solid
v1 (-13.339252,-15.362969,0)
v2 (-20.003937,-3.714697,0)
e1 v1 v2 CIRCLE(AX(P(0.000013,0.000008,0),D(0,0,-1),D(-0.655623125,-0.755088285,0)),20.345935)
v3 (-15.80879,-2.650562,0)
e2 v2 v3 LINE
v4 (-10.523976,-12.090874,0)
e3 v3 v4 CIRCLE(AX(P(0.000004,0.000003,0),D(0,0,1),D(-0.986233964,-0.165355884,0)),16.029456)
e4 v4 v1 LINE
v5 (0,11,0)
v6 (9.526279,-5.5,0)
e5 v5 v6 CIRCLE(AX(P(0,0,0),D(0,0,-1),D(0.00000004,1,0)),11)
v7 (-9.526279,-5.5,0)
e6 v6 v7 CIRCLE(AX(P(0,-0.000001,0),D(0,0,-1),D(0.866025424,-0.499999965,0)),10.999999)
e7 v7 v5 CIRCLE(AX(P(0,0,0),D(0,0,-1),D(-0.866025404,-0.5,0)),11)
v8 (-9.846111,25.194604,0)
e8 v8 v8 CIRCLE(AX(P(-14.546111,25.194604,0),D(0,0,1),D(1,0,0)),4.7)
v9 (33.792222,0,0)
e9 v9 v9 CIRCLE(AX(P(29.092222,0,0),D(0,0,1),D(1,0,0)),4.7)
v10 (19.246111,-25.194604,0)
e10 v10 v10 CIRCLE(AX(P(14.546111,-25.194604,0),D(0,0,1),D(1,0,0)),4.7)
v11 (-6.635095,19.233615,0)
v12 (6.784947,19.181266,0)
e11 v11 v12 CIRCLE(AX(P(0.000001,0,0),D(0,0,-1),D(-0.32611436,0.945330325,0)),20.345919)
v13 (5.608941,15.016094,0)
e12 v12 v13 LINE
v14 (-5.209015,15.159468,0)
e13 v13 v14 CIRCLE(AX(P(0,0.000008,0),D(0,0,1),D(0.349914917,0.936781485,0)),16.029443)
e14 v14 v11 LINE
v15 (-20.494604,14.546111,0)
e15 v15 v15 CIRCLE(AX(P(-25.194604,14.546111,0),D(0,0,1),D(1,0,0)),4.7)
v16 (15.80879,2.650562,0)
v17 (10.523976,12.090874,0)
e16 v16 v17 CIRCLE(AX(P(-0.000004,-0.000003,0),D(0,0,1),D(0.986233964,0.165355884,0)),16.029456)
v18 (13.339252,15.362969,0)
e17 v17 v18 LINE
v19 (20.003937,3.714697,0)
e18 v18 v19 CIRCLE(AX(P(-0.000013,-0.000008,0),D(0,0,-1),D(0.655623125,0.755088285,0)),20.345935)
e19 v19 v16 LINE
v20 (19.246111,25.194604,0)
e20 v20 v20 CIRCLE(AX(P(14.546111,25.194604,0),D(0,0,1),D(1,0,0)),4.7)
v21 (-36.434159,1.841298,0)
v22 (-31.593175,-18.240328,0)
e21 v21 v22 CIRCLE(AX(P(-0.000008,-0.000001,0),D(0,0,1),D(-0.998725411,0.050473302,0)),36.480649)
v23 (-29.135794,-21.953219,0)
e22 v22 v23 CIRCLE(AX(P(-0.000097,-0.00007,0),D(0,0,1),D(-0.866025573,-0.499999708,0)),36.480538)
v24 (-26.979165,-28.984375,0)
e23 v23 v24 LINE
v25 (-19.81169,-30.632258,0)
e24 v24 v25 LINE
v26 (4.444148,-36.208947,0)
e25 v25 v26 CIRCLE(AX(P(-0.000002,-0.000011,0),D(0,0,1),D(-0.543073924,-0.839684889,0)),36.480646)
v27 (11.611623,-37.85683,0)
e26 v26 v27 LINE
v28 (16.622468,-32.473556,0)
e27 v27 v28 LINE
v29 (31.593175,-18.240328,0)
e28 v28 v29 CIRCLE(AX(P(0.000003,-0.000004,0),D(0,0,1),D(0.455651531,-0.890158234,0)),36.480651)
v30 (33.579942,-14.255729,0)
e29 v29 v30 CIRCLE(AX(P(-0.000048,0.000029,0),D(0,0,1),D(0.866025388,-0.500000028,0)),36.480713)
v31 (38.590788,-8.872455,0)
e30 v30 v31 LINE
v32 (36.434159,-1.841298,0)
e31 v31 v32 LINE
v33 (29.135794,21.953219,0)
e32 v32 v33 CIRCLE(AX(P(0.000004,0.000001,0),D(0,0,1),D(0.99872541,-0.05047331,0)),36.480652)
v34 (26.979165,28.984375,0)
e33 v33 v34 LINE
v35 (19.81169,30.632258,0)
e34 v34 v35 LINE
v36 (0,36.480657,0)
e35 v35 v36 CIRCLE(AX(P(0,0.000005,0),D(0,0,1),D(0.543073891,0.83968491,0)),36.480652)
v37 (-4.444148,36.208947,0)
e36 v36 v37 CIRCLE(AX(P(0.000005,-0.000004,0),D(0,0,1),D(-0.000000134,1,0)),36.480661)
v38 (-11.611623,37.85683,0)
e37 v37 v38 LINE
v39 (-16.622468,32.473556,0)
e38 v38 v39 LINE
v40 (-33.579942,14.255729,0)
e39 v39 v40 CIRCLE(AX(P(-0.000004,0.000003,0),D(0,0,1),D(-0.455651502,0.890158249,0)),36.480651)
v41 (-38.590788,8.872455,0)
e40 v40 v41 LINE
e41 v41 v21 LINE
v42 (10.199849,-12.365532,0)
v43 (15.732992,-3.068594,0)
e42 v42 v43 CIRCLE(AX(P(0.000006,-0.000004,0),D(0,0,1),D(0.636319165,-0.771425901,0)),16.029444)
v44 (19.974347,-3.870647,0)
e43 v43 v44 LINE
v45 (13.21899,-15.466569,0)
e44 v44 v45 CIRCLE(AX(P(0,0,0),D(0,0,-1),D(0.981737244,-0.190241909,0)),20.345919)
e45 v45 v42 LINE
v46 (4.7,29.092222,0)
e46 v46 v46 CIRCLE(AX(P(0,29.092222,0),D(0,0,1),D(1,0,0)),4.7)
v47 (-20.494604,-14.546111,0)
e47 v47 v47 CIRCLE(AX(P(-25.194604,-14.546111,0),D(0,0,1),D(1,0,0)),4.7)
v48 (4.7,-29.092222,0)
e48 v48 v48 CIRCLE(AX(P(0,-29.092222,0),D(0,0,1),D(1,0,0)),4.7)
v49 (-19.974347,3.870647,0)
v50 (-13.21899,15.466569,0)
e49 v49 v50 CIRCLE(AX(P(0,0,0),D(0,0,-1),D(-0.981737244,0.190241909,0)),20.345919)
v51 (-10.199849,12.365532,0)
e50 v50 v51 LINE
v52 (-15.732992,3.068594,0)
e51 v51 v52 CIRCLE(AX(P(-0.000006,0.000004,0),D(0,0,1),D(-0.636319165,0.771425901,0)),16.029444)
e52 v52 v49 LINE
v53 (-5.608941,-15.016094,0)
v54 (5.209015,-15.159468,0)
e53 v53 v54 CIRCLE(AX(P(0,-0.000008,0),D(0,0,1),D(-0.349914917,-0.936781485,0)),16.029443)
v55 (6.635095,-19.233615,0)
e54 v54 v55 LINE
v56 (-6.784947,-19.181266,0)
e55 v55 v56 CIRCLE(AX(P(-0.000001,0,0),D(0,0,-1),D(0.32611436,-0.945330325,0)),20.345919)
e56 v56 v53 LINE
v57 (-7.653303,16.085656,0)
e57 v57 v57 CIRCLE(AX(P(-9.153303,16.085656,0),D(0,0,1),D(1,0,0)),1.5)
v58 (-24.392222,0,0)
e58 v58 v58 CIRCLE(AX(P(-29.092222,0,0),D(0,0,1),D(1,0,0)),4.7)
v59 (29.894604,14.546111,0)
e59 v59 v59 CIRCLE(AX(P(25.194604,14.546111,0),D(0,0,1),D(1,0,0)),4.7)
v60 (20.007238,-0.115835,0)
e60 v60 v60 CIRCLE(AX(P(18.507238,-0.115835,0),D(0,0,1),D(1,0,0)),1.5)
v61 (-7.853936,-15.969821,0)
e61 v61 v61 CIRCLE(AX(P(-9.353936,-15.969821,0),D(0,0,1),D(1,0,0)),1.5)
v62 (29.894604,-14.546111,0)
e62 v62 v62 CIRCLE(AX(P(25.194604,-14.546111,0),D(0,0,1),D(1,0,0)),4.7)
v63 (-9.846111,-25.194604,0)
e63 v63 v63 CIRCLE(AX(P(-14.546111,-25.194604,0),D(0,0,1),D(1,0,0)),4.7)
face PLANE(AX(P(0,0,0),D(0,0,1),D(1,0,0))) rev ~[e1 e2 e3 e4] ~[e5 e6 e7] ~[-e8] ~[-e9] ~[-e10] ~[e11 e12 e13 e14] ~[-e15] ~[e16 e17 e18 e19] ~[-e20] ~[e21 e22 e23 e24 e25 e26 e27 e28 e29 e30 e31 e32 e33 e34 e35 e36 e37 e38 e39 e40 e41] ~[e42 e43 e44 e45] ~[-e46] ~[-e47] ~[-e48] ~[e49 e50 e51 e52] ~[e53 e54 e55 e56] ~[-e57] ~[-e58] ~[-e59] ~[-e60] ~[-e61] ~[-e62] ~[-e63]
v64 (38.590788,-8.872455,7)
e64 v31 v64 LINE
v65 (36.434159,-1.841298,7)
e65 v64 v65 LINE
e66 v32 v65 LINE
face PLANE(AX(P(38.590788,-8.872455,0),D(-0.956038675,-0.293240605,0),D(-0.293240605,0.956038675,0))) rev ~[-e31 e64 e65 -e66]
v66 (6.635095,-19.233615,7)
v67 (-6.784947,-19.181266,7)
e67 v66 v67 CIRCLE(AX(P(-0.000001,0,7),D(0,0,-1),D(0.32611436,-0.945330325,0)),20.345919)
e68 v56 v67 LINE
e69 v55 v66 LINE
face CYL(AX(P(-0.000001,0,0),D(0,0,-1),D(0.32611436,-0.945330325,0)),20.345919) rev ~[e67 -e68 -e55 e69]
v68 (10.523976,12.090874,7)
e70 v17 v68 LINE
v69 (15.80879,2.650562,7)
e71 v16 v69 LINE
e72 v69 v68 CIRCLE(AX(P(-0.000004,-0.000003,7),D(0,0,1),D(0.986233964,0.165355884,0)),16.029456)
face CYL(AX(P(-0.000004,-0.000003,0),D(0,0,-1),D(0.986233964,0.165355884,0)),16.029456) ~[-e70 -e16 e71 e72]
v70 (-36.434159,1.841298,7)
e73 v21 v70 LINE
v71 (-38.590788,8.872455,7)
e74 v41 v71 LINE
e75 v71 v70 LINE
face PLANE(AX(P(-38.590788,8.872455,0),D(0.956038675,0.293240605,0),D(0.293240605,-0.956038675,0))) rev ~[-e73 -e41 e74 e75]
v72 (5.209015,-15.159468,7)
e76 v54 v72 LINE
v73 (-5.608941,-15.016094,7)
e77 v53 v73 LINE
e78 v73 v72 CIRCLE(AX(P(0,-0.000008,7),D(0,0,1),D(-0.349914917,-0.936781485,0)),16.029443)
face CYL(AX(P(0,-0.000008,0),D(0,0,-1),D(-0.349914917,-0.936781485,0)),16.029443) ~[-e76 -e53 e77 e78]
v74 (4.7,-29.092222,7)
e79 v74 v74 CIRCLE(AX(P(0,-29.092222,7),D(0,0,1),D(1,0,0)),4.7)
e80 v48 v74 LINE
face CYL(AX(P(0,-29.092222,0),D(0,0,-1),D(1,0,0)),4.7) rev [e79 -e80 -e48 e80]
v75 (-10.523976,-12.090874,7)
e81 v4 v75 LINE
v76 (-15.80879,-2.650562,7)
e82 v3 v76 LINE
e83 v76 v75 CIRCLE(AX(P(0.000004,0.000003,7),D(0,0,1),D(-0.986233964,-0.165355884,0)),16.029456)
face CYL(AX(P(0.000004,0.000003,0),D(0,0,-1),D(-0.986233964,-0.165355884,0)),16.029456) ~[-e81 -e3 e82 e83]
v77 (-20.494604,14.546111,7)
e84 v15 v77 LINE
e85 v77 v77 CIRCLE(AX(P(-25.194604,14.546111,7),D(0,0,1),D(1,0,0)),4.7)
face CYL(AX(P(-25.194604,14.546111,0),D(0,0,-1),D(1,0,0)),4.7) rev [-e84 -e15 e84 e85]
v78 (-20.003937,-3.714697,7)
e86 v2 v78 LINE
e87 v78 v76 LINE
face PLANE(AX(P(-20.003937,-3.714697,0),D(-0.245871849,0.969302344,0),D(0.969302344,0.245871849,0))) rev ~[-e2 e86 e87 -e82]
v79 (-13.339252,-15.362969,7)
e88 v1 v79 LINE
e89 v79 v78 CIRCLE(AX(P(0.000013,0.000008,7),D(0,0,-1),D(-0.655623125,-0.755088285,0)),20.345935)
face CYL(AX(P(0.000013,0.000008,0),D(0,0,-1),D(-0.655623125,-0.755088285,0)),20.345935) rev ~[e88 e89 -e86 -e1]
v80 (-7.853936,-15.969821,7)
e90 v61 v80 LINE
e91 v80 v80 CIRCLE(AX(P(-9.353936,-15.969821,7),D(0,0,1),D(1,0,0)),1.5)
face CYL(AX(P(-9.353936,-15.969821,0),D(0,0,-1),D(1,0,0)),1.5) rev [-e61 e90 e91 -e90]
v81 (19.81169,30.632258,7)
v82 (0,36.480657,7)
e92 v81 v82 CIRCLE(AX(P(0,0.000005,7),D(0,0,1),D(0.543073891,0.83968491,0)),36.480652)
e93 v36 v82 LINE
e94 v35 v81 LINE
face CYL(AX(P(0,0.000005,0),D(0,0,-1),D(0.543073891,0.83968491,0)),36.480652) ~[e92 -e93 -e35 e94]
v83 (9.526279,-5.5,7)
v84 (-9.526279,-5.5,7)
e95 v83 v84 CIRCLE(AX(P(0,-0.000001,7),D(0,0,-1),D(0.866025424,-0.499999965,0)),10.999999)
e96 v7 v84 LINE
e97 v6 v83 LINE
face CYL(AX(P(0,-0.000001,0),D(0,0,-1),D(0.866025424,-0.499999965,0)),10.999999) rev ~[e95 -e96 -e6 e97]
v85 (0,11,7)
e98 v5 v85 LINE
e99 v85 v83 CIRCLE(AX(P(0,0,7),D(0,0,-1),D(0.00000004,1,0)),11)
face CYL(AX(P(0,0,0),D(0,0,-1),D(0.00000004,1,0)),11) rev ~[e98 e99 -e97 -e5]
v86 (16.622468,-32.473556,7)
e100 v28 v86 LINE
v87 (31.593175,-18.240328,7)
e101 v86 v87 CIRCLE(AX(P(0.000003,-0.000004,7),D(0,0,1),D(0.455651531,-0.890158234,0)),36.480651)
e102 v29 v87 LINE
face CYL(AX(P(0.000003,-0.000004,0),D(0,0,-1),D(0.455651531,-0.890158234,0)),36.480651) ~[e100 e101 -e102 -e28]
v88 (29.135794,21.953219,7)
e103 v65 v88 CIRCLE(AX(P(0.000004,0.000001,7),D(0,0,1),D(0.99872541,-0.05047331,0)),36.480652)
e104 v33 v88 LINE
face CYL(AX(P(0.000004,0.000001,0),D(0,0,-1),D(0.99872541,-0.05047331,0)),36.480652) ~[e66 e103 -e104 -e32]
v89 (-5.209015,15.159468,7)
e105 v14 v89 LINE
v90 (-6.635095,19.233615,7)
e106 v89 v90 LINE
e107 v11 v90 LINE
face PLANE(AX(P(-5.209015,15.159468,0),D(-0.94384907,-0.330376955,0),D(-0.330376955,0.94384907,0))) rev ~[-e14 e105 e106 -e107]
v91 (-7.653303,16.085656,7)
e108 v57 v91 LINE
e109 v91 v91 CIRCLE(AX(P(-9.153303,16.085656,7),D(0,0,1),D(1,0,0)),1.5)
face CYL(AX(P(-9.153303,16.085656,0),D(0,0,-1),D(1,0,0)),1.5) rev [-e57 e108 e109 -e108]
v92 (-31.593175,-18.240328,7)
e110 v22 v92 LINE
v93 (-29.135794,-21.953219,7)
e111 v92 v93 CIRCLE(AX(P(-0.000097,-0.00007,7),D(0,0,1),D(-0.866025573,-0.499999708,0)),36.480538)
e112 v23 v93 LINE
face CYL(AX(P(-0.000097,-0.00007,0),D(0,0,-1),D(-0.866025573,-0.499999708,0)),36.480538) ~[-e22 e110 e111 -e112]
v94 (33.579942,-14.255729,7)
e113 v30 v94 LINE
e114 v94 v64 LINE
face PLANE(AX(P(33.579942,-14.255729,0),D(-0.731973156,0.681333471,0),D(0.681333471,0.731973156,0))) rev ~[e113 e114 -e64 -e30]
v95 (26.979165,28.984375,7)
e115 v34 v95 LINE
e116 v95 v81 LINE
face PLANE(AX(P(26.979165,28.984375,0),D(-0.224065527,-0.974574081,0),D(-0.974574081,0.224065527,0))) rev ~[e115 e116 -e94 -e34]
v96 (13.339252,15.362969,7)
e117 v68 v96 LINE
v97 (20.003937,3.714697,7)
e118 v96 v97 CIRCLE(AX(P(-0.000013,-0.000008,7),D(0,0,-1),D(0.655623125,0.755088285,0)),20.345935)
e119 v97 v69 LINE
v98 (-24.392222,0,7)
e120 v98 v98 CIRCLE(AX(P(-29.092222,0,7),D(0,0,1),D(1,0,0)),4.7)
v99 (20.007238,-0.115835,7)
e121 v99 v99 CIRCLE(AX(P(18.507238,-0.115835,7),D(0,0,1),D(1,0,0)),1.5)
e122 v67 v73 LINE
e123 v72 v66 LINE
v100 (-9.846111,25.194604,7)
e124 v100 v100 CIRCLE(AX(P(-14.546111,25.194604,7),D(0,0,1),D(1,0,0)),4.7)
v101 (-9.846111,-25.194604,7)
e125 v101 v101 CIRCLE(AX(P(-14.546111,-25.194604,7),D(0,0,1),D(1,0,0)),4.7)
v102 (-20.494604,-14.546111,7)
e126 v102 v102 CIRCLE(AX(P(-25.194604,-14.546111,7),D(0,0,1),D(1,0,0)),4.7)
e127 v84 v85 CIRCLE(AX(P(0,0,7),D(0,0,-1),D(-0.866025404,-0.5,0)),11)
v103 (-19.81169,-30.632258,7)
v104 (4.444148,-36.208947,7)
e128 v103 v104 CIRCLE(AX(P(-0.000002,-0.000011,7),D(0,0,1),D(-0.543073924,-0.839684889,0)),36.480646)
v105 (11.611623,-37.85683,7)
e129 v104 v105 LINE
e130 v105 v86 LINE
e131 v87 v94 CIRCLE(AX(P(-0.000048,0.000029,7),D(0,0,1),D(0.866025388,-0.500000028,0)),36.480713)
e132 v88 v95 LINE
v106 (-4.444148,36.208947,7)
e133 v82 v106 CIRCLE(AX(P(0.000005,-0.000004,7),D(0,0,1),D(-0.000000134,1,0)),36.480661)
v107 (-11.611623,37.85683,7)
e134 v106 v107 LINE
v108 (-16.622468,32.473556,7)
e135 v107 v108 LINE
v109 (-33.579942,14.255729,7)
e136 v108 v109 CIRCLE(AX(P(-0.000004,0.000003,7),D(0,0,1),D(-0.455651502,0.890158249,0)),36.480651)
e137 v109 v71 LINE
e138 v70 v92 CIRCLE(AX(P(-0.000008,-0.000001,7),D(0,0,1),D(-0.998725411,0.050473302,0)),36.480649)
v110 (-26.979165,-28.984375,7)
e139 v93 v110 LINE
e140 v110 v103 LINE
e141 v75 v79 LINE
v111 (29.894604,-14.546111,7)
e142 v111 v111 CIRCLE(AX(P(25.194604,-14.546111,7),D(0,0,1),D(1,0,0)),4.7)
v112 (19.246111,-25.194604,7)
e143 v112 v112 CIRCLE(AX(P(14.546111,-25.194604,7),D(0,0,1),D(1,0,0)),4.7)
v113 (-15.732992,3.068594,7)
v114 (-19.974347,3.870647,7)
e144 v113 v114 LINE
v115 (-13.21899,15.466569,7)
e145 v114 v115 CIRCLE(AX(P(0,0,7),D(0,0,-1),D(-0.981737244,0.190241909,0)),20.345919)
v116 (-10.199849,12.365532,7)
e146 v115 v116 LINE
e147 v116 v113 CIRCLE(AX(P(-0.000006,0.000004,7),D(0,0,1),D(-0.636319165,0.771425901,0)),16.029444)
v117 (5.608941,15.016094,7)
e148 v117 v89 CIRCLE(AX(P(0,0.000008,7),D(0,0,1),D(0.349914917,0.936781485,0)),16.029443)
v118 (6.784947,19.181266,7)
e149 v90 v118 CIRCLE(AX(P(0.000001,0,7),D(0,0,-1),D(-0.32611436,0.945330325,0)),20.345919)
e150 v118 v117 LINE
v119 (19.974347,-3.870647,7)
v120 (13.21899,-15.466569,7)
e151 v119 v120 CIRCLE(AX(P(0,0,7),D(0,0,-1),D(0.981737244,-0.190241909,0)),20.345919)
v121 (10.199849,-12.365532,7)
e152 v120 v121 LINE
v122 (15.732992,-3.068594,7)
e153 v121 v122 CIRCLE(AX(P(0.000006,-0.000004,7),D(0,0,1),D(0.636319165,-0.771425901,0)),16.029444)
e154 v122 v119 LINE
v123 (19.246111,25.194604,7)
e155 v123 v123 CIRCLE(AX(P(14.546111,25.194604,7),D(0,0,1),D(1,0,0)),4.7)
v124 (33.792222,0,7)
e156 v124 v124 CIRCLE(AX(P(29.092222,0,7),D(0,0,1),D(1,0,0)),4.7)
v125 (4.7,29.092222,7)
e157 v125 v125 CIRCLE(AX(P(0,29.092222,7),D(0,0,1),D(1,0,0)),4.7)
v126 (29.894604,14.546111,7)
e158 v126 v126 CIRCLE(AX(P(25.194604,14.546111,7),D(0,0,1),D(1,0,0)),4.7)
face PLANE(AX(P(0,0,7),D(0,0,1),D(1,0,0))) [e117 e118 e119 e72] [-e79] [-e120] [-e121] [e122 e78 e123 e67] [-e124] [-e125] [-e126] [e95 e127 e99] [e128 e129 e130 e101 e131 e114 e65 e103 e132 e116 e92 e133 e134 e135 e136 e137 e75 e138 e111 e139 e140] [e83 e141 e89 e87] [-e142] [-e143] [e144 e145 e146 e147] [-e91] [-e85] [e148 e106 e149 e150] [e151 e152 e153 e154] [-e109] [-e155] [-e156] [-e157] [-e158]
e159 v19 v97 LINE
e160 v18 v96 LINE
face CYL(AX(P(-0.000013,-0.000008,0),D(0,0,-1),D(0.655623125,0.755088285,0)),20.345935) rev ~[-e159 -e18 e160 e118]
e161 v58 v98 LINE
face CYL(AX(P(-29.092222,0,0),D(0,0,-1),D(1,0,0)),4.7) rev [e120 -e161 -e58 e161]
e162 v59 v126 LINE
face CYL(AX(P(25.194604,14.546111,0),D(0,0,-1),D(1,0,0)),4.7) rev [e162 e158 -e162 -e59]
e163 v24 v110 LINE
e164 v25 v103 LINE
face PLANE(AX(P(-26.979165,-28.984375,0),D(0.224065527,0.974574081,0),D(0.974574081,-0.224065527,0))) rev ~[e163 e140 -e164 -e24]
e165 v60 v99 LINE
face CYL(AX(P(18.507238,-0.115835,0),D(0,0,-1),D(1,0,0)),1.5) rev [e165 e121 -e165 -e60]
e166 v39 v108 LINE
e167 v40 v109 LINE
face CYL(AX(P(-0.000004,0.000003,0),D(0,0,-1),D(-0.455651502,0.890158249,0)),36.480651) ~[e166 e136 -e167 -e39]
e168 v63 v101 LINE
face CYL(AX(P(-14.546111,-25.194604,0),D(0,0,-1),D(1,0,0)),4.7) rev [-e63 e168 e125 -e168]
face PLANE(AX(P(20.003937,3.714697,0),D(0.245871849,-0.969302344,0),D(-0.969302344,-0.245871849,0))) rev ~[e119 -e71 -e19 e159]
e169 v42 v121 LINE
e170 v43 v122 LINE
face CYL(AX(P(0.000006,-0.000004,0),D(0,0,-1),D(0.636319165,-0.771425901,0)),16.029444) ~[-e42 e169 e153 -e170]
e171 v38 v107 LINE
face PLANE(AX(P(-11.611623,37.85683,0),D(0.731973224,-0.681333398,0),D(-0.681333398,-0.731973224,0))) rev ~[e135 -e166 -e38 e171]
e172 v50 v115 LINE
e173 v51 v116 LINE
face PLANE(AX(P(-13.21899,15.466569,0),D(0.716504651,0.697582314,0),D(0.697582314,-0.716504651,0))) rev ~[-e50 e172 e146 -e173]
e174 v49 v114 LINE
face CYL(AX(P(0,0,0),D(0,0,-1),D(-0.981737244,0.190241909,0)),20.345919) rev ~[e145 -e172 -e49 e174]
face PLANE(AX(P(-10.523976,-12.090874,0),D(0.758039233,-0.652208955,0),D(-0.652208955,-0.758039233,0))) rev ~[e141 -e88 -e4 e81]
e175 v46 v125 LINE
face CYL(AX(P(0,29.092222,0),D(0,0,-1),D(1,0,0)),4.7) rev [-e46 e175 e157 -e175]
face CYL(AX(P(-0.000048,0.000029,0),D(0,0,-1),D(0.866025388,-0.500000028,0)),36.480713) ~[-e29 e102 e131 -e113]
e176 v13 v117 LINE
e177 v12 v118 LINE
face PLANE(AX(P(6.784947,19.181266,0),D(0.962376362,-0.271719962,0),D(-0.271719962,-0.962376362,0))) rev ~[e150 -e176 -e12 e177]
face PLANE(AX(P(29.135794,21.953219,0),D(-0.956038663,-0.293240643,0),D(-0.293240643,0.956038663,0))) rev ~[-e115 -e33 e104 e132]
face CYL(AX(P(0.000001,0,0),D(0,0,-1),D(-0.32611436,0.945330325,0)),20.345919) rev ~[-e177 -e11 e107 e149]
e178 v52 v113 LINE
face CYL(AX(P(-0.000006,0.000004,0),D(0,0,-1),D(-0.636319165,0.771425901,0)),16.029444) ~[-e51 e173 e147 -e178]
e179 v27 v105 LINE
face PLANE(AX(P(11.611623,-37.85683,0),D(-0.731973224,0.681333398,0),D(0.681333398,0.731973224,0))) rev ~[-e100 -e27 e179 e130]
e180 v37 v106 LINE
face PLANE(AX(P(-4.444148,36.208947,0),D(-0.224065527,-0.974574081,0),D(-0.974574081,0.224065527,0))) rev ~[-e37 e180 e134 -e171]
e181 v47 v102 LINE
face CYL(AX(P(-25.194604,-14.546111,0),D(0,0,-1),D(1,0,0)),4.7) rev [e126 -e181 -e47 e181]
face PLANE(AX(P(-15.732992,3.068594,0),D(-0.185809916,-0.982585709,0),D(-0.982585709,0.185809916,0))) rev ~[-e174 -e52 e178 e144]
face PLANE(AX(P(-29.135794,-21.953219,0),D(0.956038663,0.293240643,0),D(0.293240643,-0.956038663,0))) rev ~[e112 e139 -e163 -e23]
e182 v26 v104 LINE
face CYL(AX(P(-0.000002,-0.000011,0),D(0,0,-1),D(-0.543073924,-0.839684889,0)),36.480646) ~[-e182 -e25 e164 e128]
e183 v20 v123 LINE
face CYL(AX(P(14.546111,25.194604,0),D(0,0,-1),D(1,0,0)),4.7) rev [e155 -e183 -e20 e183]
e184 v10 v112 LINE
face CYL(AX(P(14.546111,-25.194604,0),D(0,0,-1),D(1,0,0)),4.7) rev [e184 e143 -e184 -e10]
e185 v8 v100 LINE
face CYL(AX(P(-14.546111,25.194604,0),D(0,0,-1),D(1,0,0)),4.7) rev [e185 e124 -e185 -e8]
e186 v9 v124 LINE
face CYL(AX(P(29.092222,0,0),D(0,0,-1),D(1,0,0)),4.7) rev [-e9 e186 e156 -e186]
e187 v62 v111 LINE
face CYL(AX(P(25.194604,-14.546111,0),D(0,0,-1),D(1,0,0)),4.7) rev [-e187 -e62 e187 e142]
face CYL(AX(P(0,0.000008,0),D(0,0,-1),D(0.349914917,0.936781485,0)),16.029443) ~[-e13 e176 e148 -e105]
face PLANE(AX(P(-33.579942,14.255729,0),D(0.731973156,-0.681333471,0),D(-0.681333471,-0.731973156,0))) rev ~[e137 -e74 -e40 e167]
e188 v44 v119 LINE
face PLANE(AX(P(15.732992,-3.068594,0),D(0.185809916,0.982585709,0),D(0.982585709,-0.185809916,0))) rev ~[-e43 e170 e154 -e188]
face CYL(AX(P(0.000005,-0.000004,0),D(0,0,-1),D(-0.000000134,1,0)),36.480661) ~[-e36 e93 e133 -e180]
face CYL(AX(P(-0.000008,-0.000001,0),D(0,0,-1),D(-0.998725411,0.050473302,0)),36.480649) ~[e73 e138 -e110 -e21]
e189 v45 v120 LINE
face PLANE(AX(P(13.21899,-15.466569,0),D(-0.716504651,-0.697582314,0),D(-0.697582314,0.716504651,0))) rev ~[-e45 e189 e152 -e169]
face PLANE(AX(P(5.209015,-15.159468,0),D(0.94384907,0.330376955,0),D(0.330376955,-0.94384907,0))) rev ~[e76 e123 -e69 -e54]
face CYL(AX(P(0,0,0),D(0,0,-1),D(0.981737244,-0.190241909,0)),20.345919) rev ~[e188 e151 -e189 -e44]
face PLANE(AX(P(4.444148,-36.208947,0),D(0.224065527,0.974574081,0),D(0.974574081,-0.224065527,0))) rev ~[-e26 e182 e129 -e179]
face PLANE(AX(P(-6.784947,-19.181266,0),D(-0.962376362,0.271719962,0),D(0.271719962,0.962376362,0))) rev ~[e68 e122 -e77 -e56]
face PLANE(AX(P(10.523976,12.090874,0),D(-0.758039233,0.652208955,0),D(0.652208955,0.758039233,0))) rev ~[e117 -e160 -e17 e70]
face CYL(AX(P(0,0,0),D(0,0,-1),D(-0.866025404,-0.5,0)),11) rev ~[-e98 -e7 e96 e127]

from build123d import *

# Parameters (mm, degrees)
F0_R     = 4.7
F0_R_2   = 1.5
F1_DEPTH = 7


with BuildPart() as f1:
    # F0 (on Top) → F1 (new body)
    with BuildSketch(Plane.XY):
        with BuildLine():
            Line((-26.979165, -28.984375), (-19.81169, -30.632258))
            ThreePointArc((-19.81169, -30.632258), (-8.174057, -35.553103), (4.444148, -36.208947))
            Line((4.444148, -36.208947), (11.611623, -37.85683))
            Line((11.611623, -37.85683), (16.622468, -32.473556))
            ThreePointArc((16.622468, -32.473556), (25.136294, -26.438703), (31.593175, -18.240328))
            ThreePointArc((31.593175, -18.240328), (32.647405, -16.278367), (33.579942, -14.255729))
            Line((33.579942, -14.255729), (38.590788, -8.872455))
            Line((38.590788, -8.872455), (36.434159, -1.841298))
            ThreePointArc((36.434159, -1.841298), (34.876919, 10.69761), (29.135794, 21.953219))
            Line((29.135794, 21.953219), (26.979165, 28.984375))
            Line((26.979165, 28.984375), (19.81169, 30.632258))
            ThreePointArc((19.81169, 30.632258), (10.328442, 34.988021), (0, 36.480657))
            ThreePointArc((0, 36.480657), (-2.226223, 36.412666), (-4.444148, 36.208947))
            Line((-4.444148, 36.208947), (-11.611623, 37.85683))
            Line((-11.611623, 37.85683), (-16.622468, 32.473556))
            ThreePointArc((-16.622468, 32.473556), (-26.702862, 24.855492), (-33.579942, 14.255729))
            Line((-33.579942, 14.255729), (-38.590788, 8.872455))
            Line((-38.590788, 8.872455), (-36.434159, 1.841298))
            ThreePointArc((-36.434159, 1.841298), (-35.464736, -8.549317), (-31.593175, -18.240328))
            ThreePointArc((-31.593175, -18.240328), (-30.421182, -20.134299), (-29.135794, -21.953219))
            Line((-29.135794, -21.953219), (-26.979165, -28.984375))
        make_face()
        with Locations((-14.546111, -25.194604)):
            Circle(F0_R, mode=Mode.SUBTRACT)
        with Locations((-25.194604, -14.546111)):
            Circle(F0_R, mode=Mode.SUBTRACT)
        with Locations((-29.092222, 0)):
            Circle(F0_R, mode=Mode.SUBTRACT)
        with Locations((-9.353936, -15.969821)):
            Circle(F0_R_2, mode=Mode.SUBTRACT)
        with BuildLine():
            Line((-6.784947, -19.181266), (-5.608941, -15.016094))
            ThreePointArc((-5.608941, -15.016094), (-0.212424, -16.028044), (5.209015, -15.159468))
            Line((5.209015, -15.159468), (6.635095, -19.233615))
            ThreePointArc((6.635095, -19.233615), (-0.079366, -20.345765), (-6.784947, -19.181266))
        make_face(mode=Mode.SUBTRACT)
        with BuildLine():
            Line((-20.003937, -3.714697), (-15.80879, -2.650562))
            ThreePointArc((-15.80879, -2.650562), (-13.986905, -7.830057), (-10.523976, -12.090874))
            Line((-10.523976, -12.090874), (-13.339252, -15.362969))
            ThreePointArc((-13.339252, -15.362969), (-17.659632, -10.104149), (-20.003937, -3.714697))
        make_face(mode=Mode.SUBTRACT)
        with Locations((0, -29.092222)):
            Circle(F0_R, mode=Mode.SUBTRACT)
        with Locations((14.546111, -25.194604)):
            Circle(F0_R, mode=Mode.SUBTRACT)
        with BuildLine():
            ThreePointArc((9.526279, -5.5), (0, -11), (-9.526279, -5.5))
            ThreePointArc((-9.526279, -5.5), (-9.526279, 5.5), (0, 11))
            ThreePointArc((0, 11), (9.526279, 5.5), (9.526279, -5.5))
        make_face(mode=Mode.SUBTRACT)
        with BuildLine():
            Line((13.21899, -15.466569), (10.199849, -12.365532))
            ThreePointArc((10.199849, -12.365532), (13.774481, -8.197987), (15.732992, -3.068594))
            Line((15.732992, -3.068594), (19.974347, -3.870647))
            ThreePointArc((19.974347, -3.870647), (17.580266, -10.241616), (13.21899, -15.466569))
        make_face(mode=Mode.SUBTRACT)
        with Locations((18.507238, -0.115835)):
            Circle(F0_R_2, mode=Mode.SUBTRACT)
        with Locations((25.194604, -14.546111)):
            Circle(F0_R, mode=Mode.SUBTRACT)
        with Locations((29.092222, 0)):
            Circle(F0_R, mode=Mode.SUBTRACT)
        with Locations((-25.194604, 14.546111)):
            Circle(F0_R, mode=Mode.SUBTRACT)
        with BuildLine():
            Line((-13.21899, 15.466569), (-10.199849, 12.365532))
            ThreePointArc((-10.199849, 12.365532), (-13.774481, 8.197987), (-15.732992, 3.068594))
            Line((-15.732992, 3.068594), (-19.974347, 3.870647))
            ThreePointArc((-19.974347, 3.870647), (-17.580266, 10.241616), (-13.21899, 15.466569))
        make_face(mode=Mode.SUBTRACT)
        with Locations((-9.153303, 16.085656)):
            Circle(F0_R_2, mode=Mode.SUBTRACT)
        with Locations((-14.546111, 25.194604)):
            Circle(F0_R, mode=Mode.SUBTRACT)
        with BuildLine():
            Line((20.003937, 3.714697), (15.80879, 2.650562))
            ThreePointArc((15.80879, 2.650562), (13.986905, 7.830057), (10.523976, 12.090874))
            Line((10.523976, 12.090874), (13.339252, 15.362969))
            ThreePointArc((13.339252, 15.362969), (17.659632, 10.104149), (20.003937, 3.714697))
        make_face(mode=Mode.SUBTRACT)
        with BuildLine():
            ThreePointArc((-6.635095, 19.233615), (0.079366, 20.345765), (6.784947, 19.181266))
            Line((6.784947, 19.181266), (5.608941, 15.016094))
            ThreePointArc((5.608941, 15.016094), (0.212424, 16.028044), (-5.209015, 15.159468))
            Line((-5.209015, 15.159468), (-6.635095, 19.233615))
        make_face(mode=Mode.SUBTRACT)
        with Locations((25.194604, 14.546111)):
            Circle(F0_R, mode=Mode.SUBTRACT)
        with Locations((14.546111, 25.194604)):
            Circle(F0_R, mode=Mode.SUBTRACT)
        with Locations((0, 29.092222)):
            Circle(F0_R, mode=Mode.SUBTRACT)
    extrude(amount=F1_DEPTH)


solid = f1.part
